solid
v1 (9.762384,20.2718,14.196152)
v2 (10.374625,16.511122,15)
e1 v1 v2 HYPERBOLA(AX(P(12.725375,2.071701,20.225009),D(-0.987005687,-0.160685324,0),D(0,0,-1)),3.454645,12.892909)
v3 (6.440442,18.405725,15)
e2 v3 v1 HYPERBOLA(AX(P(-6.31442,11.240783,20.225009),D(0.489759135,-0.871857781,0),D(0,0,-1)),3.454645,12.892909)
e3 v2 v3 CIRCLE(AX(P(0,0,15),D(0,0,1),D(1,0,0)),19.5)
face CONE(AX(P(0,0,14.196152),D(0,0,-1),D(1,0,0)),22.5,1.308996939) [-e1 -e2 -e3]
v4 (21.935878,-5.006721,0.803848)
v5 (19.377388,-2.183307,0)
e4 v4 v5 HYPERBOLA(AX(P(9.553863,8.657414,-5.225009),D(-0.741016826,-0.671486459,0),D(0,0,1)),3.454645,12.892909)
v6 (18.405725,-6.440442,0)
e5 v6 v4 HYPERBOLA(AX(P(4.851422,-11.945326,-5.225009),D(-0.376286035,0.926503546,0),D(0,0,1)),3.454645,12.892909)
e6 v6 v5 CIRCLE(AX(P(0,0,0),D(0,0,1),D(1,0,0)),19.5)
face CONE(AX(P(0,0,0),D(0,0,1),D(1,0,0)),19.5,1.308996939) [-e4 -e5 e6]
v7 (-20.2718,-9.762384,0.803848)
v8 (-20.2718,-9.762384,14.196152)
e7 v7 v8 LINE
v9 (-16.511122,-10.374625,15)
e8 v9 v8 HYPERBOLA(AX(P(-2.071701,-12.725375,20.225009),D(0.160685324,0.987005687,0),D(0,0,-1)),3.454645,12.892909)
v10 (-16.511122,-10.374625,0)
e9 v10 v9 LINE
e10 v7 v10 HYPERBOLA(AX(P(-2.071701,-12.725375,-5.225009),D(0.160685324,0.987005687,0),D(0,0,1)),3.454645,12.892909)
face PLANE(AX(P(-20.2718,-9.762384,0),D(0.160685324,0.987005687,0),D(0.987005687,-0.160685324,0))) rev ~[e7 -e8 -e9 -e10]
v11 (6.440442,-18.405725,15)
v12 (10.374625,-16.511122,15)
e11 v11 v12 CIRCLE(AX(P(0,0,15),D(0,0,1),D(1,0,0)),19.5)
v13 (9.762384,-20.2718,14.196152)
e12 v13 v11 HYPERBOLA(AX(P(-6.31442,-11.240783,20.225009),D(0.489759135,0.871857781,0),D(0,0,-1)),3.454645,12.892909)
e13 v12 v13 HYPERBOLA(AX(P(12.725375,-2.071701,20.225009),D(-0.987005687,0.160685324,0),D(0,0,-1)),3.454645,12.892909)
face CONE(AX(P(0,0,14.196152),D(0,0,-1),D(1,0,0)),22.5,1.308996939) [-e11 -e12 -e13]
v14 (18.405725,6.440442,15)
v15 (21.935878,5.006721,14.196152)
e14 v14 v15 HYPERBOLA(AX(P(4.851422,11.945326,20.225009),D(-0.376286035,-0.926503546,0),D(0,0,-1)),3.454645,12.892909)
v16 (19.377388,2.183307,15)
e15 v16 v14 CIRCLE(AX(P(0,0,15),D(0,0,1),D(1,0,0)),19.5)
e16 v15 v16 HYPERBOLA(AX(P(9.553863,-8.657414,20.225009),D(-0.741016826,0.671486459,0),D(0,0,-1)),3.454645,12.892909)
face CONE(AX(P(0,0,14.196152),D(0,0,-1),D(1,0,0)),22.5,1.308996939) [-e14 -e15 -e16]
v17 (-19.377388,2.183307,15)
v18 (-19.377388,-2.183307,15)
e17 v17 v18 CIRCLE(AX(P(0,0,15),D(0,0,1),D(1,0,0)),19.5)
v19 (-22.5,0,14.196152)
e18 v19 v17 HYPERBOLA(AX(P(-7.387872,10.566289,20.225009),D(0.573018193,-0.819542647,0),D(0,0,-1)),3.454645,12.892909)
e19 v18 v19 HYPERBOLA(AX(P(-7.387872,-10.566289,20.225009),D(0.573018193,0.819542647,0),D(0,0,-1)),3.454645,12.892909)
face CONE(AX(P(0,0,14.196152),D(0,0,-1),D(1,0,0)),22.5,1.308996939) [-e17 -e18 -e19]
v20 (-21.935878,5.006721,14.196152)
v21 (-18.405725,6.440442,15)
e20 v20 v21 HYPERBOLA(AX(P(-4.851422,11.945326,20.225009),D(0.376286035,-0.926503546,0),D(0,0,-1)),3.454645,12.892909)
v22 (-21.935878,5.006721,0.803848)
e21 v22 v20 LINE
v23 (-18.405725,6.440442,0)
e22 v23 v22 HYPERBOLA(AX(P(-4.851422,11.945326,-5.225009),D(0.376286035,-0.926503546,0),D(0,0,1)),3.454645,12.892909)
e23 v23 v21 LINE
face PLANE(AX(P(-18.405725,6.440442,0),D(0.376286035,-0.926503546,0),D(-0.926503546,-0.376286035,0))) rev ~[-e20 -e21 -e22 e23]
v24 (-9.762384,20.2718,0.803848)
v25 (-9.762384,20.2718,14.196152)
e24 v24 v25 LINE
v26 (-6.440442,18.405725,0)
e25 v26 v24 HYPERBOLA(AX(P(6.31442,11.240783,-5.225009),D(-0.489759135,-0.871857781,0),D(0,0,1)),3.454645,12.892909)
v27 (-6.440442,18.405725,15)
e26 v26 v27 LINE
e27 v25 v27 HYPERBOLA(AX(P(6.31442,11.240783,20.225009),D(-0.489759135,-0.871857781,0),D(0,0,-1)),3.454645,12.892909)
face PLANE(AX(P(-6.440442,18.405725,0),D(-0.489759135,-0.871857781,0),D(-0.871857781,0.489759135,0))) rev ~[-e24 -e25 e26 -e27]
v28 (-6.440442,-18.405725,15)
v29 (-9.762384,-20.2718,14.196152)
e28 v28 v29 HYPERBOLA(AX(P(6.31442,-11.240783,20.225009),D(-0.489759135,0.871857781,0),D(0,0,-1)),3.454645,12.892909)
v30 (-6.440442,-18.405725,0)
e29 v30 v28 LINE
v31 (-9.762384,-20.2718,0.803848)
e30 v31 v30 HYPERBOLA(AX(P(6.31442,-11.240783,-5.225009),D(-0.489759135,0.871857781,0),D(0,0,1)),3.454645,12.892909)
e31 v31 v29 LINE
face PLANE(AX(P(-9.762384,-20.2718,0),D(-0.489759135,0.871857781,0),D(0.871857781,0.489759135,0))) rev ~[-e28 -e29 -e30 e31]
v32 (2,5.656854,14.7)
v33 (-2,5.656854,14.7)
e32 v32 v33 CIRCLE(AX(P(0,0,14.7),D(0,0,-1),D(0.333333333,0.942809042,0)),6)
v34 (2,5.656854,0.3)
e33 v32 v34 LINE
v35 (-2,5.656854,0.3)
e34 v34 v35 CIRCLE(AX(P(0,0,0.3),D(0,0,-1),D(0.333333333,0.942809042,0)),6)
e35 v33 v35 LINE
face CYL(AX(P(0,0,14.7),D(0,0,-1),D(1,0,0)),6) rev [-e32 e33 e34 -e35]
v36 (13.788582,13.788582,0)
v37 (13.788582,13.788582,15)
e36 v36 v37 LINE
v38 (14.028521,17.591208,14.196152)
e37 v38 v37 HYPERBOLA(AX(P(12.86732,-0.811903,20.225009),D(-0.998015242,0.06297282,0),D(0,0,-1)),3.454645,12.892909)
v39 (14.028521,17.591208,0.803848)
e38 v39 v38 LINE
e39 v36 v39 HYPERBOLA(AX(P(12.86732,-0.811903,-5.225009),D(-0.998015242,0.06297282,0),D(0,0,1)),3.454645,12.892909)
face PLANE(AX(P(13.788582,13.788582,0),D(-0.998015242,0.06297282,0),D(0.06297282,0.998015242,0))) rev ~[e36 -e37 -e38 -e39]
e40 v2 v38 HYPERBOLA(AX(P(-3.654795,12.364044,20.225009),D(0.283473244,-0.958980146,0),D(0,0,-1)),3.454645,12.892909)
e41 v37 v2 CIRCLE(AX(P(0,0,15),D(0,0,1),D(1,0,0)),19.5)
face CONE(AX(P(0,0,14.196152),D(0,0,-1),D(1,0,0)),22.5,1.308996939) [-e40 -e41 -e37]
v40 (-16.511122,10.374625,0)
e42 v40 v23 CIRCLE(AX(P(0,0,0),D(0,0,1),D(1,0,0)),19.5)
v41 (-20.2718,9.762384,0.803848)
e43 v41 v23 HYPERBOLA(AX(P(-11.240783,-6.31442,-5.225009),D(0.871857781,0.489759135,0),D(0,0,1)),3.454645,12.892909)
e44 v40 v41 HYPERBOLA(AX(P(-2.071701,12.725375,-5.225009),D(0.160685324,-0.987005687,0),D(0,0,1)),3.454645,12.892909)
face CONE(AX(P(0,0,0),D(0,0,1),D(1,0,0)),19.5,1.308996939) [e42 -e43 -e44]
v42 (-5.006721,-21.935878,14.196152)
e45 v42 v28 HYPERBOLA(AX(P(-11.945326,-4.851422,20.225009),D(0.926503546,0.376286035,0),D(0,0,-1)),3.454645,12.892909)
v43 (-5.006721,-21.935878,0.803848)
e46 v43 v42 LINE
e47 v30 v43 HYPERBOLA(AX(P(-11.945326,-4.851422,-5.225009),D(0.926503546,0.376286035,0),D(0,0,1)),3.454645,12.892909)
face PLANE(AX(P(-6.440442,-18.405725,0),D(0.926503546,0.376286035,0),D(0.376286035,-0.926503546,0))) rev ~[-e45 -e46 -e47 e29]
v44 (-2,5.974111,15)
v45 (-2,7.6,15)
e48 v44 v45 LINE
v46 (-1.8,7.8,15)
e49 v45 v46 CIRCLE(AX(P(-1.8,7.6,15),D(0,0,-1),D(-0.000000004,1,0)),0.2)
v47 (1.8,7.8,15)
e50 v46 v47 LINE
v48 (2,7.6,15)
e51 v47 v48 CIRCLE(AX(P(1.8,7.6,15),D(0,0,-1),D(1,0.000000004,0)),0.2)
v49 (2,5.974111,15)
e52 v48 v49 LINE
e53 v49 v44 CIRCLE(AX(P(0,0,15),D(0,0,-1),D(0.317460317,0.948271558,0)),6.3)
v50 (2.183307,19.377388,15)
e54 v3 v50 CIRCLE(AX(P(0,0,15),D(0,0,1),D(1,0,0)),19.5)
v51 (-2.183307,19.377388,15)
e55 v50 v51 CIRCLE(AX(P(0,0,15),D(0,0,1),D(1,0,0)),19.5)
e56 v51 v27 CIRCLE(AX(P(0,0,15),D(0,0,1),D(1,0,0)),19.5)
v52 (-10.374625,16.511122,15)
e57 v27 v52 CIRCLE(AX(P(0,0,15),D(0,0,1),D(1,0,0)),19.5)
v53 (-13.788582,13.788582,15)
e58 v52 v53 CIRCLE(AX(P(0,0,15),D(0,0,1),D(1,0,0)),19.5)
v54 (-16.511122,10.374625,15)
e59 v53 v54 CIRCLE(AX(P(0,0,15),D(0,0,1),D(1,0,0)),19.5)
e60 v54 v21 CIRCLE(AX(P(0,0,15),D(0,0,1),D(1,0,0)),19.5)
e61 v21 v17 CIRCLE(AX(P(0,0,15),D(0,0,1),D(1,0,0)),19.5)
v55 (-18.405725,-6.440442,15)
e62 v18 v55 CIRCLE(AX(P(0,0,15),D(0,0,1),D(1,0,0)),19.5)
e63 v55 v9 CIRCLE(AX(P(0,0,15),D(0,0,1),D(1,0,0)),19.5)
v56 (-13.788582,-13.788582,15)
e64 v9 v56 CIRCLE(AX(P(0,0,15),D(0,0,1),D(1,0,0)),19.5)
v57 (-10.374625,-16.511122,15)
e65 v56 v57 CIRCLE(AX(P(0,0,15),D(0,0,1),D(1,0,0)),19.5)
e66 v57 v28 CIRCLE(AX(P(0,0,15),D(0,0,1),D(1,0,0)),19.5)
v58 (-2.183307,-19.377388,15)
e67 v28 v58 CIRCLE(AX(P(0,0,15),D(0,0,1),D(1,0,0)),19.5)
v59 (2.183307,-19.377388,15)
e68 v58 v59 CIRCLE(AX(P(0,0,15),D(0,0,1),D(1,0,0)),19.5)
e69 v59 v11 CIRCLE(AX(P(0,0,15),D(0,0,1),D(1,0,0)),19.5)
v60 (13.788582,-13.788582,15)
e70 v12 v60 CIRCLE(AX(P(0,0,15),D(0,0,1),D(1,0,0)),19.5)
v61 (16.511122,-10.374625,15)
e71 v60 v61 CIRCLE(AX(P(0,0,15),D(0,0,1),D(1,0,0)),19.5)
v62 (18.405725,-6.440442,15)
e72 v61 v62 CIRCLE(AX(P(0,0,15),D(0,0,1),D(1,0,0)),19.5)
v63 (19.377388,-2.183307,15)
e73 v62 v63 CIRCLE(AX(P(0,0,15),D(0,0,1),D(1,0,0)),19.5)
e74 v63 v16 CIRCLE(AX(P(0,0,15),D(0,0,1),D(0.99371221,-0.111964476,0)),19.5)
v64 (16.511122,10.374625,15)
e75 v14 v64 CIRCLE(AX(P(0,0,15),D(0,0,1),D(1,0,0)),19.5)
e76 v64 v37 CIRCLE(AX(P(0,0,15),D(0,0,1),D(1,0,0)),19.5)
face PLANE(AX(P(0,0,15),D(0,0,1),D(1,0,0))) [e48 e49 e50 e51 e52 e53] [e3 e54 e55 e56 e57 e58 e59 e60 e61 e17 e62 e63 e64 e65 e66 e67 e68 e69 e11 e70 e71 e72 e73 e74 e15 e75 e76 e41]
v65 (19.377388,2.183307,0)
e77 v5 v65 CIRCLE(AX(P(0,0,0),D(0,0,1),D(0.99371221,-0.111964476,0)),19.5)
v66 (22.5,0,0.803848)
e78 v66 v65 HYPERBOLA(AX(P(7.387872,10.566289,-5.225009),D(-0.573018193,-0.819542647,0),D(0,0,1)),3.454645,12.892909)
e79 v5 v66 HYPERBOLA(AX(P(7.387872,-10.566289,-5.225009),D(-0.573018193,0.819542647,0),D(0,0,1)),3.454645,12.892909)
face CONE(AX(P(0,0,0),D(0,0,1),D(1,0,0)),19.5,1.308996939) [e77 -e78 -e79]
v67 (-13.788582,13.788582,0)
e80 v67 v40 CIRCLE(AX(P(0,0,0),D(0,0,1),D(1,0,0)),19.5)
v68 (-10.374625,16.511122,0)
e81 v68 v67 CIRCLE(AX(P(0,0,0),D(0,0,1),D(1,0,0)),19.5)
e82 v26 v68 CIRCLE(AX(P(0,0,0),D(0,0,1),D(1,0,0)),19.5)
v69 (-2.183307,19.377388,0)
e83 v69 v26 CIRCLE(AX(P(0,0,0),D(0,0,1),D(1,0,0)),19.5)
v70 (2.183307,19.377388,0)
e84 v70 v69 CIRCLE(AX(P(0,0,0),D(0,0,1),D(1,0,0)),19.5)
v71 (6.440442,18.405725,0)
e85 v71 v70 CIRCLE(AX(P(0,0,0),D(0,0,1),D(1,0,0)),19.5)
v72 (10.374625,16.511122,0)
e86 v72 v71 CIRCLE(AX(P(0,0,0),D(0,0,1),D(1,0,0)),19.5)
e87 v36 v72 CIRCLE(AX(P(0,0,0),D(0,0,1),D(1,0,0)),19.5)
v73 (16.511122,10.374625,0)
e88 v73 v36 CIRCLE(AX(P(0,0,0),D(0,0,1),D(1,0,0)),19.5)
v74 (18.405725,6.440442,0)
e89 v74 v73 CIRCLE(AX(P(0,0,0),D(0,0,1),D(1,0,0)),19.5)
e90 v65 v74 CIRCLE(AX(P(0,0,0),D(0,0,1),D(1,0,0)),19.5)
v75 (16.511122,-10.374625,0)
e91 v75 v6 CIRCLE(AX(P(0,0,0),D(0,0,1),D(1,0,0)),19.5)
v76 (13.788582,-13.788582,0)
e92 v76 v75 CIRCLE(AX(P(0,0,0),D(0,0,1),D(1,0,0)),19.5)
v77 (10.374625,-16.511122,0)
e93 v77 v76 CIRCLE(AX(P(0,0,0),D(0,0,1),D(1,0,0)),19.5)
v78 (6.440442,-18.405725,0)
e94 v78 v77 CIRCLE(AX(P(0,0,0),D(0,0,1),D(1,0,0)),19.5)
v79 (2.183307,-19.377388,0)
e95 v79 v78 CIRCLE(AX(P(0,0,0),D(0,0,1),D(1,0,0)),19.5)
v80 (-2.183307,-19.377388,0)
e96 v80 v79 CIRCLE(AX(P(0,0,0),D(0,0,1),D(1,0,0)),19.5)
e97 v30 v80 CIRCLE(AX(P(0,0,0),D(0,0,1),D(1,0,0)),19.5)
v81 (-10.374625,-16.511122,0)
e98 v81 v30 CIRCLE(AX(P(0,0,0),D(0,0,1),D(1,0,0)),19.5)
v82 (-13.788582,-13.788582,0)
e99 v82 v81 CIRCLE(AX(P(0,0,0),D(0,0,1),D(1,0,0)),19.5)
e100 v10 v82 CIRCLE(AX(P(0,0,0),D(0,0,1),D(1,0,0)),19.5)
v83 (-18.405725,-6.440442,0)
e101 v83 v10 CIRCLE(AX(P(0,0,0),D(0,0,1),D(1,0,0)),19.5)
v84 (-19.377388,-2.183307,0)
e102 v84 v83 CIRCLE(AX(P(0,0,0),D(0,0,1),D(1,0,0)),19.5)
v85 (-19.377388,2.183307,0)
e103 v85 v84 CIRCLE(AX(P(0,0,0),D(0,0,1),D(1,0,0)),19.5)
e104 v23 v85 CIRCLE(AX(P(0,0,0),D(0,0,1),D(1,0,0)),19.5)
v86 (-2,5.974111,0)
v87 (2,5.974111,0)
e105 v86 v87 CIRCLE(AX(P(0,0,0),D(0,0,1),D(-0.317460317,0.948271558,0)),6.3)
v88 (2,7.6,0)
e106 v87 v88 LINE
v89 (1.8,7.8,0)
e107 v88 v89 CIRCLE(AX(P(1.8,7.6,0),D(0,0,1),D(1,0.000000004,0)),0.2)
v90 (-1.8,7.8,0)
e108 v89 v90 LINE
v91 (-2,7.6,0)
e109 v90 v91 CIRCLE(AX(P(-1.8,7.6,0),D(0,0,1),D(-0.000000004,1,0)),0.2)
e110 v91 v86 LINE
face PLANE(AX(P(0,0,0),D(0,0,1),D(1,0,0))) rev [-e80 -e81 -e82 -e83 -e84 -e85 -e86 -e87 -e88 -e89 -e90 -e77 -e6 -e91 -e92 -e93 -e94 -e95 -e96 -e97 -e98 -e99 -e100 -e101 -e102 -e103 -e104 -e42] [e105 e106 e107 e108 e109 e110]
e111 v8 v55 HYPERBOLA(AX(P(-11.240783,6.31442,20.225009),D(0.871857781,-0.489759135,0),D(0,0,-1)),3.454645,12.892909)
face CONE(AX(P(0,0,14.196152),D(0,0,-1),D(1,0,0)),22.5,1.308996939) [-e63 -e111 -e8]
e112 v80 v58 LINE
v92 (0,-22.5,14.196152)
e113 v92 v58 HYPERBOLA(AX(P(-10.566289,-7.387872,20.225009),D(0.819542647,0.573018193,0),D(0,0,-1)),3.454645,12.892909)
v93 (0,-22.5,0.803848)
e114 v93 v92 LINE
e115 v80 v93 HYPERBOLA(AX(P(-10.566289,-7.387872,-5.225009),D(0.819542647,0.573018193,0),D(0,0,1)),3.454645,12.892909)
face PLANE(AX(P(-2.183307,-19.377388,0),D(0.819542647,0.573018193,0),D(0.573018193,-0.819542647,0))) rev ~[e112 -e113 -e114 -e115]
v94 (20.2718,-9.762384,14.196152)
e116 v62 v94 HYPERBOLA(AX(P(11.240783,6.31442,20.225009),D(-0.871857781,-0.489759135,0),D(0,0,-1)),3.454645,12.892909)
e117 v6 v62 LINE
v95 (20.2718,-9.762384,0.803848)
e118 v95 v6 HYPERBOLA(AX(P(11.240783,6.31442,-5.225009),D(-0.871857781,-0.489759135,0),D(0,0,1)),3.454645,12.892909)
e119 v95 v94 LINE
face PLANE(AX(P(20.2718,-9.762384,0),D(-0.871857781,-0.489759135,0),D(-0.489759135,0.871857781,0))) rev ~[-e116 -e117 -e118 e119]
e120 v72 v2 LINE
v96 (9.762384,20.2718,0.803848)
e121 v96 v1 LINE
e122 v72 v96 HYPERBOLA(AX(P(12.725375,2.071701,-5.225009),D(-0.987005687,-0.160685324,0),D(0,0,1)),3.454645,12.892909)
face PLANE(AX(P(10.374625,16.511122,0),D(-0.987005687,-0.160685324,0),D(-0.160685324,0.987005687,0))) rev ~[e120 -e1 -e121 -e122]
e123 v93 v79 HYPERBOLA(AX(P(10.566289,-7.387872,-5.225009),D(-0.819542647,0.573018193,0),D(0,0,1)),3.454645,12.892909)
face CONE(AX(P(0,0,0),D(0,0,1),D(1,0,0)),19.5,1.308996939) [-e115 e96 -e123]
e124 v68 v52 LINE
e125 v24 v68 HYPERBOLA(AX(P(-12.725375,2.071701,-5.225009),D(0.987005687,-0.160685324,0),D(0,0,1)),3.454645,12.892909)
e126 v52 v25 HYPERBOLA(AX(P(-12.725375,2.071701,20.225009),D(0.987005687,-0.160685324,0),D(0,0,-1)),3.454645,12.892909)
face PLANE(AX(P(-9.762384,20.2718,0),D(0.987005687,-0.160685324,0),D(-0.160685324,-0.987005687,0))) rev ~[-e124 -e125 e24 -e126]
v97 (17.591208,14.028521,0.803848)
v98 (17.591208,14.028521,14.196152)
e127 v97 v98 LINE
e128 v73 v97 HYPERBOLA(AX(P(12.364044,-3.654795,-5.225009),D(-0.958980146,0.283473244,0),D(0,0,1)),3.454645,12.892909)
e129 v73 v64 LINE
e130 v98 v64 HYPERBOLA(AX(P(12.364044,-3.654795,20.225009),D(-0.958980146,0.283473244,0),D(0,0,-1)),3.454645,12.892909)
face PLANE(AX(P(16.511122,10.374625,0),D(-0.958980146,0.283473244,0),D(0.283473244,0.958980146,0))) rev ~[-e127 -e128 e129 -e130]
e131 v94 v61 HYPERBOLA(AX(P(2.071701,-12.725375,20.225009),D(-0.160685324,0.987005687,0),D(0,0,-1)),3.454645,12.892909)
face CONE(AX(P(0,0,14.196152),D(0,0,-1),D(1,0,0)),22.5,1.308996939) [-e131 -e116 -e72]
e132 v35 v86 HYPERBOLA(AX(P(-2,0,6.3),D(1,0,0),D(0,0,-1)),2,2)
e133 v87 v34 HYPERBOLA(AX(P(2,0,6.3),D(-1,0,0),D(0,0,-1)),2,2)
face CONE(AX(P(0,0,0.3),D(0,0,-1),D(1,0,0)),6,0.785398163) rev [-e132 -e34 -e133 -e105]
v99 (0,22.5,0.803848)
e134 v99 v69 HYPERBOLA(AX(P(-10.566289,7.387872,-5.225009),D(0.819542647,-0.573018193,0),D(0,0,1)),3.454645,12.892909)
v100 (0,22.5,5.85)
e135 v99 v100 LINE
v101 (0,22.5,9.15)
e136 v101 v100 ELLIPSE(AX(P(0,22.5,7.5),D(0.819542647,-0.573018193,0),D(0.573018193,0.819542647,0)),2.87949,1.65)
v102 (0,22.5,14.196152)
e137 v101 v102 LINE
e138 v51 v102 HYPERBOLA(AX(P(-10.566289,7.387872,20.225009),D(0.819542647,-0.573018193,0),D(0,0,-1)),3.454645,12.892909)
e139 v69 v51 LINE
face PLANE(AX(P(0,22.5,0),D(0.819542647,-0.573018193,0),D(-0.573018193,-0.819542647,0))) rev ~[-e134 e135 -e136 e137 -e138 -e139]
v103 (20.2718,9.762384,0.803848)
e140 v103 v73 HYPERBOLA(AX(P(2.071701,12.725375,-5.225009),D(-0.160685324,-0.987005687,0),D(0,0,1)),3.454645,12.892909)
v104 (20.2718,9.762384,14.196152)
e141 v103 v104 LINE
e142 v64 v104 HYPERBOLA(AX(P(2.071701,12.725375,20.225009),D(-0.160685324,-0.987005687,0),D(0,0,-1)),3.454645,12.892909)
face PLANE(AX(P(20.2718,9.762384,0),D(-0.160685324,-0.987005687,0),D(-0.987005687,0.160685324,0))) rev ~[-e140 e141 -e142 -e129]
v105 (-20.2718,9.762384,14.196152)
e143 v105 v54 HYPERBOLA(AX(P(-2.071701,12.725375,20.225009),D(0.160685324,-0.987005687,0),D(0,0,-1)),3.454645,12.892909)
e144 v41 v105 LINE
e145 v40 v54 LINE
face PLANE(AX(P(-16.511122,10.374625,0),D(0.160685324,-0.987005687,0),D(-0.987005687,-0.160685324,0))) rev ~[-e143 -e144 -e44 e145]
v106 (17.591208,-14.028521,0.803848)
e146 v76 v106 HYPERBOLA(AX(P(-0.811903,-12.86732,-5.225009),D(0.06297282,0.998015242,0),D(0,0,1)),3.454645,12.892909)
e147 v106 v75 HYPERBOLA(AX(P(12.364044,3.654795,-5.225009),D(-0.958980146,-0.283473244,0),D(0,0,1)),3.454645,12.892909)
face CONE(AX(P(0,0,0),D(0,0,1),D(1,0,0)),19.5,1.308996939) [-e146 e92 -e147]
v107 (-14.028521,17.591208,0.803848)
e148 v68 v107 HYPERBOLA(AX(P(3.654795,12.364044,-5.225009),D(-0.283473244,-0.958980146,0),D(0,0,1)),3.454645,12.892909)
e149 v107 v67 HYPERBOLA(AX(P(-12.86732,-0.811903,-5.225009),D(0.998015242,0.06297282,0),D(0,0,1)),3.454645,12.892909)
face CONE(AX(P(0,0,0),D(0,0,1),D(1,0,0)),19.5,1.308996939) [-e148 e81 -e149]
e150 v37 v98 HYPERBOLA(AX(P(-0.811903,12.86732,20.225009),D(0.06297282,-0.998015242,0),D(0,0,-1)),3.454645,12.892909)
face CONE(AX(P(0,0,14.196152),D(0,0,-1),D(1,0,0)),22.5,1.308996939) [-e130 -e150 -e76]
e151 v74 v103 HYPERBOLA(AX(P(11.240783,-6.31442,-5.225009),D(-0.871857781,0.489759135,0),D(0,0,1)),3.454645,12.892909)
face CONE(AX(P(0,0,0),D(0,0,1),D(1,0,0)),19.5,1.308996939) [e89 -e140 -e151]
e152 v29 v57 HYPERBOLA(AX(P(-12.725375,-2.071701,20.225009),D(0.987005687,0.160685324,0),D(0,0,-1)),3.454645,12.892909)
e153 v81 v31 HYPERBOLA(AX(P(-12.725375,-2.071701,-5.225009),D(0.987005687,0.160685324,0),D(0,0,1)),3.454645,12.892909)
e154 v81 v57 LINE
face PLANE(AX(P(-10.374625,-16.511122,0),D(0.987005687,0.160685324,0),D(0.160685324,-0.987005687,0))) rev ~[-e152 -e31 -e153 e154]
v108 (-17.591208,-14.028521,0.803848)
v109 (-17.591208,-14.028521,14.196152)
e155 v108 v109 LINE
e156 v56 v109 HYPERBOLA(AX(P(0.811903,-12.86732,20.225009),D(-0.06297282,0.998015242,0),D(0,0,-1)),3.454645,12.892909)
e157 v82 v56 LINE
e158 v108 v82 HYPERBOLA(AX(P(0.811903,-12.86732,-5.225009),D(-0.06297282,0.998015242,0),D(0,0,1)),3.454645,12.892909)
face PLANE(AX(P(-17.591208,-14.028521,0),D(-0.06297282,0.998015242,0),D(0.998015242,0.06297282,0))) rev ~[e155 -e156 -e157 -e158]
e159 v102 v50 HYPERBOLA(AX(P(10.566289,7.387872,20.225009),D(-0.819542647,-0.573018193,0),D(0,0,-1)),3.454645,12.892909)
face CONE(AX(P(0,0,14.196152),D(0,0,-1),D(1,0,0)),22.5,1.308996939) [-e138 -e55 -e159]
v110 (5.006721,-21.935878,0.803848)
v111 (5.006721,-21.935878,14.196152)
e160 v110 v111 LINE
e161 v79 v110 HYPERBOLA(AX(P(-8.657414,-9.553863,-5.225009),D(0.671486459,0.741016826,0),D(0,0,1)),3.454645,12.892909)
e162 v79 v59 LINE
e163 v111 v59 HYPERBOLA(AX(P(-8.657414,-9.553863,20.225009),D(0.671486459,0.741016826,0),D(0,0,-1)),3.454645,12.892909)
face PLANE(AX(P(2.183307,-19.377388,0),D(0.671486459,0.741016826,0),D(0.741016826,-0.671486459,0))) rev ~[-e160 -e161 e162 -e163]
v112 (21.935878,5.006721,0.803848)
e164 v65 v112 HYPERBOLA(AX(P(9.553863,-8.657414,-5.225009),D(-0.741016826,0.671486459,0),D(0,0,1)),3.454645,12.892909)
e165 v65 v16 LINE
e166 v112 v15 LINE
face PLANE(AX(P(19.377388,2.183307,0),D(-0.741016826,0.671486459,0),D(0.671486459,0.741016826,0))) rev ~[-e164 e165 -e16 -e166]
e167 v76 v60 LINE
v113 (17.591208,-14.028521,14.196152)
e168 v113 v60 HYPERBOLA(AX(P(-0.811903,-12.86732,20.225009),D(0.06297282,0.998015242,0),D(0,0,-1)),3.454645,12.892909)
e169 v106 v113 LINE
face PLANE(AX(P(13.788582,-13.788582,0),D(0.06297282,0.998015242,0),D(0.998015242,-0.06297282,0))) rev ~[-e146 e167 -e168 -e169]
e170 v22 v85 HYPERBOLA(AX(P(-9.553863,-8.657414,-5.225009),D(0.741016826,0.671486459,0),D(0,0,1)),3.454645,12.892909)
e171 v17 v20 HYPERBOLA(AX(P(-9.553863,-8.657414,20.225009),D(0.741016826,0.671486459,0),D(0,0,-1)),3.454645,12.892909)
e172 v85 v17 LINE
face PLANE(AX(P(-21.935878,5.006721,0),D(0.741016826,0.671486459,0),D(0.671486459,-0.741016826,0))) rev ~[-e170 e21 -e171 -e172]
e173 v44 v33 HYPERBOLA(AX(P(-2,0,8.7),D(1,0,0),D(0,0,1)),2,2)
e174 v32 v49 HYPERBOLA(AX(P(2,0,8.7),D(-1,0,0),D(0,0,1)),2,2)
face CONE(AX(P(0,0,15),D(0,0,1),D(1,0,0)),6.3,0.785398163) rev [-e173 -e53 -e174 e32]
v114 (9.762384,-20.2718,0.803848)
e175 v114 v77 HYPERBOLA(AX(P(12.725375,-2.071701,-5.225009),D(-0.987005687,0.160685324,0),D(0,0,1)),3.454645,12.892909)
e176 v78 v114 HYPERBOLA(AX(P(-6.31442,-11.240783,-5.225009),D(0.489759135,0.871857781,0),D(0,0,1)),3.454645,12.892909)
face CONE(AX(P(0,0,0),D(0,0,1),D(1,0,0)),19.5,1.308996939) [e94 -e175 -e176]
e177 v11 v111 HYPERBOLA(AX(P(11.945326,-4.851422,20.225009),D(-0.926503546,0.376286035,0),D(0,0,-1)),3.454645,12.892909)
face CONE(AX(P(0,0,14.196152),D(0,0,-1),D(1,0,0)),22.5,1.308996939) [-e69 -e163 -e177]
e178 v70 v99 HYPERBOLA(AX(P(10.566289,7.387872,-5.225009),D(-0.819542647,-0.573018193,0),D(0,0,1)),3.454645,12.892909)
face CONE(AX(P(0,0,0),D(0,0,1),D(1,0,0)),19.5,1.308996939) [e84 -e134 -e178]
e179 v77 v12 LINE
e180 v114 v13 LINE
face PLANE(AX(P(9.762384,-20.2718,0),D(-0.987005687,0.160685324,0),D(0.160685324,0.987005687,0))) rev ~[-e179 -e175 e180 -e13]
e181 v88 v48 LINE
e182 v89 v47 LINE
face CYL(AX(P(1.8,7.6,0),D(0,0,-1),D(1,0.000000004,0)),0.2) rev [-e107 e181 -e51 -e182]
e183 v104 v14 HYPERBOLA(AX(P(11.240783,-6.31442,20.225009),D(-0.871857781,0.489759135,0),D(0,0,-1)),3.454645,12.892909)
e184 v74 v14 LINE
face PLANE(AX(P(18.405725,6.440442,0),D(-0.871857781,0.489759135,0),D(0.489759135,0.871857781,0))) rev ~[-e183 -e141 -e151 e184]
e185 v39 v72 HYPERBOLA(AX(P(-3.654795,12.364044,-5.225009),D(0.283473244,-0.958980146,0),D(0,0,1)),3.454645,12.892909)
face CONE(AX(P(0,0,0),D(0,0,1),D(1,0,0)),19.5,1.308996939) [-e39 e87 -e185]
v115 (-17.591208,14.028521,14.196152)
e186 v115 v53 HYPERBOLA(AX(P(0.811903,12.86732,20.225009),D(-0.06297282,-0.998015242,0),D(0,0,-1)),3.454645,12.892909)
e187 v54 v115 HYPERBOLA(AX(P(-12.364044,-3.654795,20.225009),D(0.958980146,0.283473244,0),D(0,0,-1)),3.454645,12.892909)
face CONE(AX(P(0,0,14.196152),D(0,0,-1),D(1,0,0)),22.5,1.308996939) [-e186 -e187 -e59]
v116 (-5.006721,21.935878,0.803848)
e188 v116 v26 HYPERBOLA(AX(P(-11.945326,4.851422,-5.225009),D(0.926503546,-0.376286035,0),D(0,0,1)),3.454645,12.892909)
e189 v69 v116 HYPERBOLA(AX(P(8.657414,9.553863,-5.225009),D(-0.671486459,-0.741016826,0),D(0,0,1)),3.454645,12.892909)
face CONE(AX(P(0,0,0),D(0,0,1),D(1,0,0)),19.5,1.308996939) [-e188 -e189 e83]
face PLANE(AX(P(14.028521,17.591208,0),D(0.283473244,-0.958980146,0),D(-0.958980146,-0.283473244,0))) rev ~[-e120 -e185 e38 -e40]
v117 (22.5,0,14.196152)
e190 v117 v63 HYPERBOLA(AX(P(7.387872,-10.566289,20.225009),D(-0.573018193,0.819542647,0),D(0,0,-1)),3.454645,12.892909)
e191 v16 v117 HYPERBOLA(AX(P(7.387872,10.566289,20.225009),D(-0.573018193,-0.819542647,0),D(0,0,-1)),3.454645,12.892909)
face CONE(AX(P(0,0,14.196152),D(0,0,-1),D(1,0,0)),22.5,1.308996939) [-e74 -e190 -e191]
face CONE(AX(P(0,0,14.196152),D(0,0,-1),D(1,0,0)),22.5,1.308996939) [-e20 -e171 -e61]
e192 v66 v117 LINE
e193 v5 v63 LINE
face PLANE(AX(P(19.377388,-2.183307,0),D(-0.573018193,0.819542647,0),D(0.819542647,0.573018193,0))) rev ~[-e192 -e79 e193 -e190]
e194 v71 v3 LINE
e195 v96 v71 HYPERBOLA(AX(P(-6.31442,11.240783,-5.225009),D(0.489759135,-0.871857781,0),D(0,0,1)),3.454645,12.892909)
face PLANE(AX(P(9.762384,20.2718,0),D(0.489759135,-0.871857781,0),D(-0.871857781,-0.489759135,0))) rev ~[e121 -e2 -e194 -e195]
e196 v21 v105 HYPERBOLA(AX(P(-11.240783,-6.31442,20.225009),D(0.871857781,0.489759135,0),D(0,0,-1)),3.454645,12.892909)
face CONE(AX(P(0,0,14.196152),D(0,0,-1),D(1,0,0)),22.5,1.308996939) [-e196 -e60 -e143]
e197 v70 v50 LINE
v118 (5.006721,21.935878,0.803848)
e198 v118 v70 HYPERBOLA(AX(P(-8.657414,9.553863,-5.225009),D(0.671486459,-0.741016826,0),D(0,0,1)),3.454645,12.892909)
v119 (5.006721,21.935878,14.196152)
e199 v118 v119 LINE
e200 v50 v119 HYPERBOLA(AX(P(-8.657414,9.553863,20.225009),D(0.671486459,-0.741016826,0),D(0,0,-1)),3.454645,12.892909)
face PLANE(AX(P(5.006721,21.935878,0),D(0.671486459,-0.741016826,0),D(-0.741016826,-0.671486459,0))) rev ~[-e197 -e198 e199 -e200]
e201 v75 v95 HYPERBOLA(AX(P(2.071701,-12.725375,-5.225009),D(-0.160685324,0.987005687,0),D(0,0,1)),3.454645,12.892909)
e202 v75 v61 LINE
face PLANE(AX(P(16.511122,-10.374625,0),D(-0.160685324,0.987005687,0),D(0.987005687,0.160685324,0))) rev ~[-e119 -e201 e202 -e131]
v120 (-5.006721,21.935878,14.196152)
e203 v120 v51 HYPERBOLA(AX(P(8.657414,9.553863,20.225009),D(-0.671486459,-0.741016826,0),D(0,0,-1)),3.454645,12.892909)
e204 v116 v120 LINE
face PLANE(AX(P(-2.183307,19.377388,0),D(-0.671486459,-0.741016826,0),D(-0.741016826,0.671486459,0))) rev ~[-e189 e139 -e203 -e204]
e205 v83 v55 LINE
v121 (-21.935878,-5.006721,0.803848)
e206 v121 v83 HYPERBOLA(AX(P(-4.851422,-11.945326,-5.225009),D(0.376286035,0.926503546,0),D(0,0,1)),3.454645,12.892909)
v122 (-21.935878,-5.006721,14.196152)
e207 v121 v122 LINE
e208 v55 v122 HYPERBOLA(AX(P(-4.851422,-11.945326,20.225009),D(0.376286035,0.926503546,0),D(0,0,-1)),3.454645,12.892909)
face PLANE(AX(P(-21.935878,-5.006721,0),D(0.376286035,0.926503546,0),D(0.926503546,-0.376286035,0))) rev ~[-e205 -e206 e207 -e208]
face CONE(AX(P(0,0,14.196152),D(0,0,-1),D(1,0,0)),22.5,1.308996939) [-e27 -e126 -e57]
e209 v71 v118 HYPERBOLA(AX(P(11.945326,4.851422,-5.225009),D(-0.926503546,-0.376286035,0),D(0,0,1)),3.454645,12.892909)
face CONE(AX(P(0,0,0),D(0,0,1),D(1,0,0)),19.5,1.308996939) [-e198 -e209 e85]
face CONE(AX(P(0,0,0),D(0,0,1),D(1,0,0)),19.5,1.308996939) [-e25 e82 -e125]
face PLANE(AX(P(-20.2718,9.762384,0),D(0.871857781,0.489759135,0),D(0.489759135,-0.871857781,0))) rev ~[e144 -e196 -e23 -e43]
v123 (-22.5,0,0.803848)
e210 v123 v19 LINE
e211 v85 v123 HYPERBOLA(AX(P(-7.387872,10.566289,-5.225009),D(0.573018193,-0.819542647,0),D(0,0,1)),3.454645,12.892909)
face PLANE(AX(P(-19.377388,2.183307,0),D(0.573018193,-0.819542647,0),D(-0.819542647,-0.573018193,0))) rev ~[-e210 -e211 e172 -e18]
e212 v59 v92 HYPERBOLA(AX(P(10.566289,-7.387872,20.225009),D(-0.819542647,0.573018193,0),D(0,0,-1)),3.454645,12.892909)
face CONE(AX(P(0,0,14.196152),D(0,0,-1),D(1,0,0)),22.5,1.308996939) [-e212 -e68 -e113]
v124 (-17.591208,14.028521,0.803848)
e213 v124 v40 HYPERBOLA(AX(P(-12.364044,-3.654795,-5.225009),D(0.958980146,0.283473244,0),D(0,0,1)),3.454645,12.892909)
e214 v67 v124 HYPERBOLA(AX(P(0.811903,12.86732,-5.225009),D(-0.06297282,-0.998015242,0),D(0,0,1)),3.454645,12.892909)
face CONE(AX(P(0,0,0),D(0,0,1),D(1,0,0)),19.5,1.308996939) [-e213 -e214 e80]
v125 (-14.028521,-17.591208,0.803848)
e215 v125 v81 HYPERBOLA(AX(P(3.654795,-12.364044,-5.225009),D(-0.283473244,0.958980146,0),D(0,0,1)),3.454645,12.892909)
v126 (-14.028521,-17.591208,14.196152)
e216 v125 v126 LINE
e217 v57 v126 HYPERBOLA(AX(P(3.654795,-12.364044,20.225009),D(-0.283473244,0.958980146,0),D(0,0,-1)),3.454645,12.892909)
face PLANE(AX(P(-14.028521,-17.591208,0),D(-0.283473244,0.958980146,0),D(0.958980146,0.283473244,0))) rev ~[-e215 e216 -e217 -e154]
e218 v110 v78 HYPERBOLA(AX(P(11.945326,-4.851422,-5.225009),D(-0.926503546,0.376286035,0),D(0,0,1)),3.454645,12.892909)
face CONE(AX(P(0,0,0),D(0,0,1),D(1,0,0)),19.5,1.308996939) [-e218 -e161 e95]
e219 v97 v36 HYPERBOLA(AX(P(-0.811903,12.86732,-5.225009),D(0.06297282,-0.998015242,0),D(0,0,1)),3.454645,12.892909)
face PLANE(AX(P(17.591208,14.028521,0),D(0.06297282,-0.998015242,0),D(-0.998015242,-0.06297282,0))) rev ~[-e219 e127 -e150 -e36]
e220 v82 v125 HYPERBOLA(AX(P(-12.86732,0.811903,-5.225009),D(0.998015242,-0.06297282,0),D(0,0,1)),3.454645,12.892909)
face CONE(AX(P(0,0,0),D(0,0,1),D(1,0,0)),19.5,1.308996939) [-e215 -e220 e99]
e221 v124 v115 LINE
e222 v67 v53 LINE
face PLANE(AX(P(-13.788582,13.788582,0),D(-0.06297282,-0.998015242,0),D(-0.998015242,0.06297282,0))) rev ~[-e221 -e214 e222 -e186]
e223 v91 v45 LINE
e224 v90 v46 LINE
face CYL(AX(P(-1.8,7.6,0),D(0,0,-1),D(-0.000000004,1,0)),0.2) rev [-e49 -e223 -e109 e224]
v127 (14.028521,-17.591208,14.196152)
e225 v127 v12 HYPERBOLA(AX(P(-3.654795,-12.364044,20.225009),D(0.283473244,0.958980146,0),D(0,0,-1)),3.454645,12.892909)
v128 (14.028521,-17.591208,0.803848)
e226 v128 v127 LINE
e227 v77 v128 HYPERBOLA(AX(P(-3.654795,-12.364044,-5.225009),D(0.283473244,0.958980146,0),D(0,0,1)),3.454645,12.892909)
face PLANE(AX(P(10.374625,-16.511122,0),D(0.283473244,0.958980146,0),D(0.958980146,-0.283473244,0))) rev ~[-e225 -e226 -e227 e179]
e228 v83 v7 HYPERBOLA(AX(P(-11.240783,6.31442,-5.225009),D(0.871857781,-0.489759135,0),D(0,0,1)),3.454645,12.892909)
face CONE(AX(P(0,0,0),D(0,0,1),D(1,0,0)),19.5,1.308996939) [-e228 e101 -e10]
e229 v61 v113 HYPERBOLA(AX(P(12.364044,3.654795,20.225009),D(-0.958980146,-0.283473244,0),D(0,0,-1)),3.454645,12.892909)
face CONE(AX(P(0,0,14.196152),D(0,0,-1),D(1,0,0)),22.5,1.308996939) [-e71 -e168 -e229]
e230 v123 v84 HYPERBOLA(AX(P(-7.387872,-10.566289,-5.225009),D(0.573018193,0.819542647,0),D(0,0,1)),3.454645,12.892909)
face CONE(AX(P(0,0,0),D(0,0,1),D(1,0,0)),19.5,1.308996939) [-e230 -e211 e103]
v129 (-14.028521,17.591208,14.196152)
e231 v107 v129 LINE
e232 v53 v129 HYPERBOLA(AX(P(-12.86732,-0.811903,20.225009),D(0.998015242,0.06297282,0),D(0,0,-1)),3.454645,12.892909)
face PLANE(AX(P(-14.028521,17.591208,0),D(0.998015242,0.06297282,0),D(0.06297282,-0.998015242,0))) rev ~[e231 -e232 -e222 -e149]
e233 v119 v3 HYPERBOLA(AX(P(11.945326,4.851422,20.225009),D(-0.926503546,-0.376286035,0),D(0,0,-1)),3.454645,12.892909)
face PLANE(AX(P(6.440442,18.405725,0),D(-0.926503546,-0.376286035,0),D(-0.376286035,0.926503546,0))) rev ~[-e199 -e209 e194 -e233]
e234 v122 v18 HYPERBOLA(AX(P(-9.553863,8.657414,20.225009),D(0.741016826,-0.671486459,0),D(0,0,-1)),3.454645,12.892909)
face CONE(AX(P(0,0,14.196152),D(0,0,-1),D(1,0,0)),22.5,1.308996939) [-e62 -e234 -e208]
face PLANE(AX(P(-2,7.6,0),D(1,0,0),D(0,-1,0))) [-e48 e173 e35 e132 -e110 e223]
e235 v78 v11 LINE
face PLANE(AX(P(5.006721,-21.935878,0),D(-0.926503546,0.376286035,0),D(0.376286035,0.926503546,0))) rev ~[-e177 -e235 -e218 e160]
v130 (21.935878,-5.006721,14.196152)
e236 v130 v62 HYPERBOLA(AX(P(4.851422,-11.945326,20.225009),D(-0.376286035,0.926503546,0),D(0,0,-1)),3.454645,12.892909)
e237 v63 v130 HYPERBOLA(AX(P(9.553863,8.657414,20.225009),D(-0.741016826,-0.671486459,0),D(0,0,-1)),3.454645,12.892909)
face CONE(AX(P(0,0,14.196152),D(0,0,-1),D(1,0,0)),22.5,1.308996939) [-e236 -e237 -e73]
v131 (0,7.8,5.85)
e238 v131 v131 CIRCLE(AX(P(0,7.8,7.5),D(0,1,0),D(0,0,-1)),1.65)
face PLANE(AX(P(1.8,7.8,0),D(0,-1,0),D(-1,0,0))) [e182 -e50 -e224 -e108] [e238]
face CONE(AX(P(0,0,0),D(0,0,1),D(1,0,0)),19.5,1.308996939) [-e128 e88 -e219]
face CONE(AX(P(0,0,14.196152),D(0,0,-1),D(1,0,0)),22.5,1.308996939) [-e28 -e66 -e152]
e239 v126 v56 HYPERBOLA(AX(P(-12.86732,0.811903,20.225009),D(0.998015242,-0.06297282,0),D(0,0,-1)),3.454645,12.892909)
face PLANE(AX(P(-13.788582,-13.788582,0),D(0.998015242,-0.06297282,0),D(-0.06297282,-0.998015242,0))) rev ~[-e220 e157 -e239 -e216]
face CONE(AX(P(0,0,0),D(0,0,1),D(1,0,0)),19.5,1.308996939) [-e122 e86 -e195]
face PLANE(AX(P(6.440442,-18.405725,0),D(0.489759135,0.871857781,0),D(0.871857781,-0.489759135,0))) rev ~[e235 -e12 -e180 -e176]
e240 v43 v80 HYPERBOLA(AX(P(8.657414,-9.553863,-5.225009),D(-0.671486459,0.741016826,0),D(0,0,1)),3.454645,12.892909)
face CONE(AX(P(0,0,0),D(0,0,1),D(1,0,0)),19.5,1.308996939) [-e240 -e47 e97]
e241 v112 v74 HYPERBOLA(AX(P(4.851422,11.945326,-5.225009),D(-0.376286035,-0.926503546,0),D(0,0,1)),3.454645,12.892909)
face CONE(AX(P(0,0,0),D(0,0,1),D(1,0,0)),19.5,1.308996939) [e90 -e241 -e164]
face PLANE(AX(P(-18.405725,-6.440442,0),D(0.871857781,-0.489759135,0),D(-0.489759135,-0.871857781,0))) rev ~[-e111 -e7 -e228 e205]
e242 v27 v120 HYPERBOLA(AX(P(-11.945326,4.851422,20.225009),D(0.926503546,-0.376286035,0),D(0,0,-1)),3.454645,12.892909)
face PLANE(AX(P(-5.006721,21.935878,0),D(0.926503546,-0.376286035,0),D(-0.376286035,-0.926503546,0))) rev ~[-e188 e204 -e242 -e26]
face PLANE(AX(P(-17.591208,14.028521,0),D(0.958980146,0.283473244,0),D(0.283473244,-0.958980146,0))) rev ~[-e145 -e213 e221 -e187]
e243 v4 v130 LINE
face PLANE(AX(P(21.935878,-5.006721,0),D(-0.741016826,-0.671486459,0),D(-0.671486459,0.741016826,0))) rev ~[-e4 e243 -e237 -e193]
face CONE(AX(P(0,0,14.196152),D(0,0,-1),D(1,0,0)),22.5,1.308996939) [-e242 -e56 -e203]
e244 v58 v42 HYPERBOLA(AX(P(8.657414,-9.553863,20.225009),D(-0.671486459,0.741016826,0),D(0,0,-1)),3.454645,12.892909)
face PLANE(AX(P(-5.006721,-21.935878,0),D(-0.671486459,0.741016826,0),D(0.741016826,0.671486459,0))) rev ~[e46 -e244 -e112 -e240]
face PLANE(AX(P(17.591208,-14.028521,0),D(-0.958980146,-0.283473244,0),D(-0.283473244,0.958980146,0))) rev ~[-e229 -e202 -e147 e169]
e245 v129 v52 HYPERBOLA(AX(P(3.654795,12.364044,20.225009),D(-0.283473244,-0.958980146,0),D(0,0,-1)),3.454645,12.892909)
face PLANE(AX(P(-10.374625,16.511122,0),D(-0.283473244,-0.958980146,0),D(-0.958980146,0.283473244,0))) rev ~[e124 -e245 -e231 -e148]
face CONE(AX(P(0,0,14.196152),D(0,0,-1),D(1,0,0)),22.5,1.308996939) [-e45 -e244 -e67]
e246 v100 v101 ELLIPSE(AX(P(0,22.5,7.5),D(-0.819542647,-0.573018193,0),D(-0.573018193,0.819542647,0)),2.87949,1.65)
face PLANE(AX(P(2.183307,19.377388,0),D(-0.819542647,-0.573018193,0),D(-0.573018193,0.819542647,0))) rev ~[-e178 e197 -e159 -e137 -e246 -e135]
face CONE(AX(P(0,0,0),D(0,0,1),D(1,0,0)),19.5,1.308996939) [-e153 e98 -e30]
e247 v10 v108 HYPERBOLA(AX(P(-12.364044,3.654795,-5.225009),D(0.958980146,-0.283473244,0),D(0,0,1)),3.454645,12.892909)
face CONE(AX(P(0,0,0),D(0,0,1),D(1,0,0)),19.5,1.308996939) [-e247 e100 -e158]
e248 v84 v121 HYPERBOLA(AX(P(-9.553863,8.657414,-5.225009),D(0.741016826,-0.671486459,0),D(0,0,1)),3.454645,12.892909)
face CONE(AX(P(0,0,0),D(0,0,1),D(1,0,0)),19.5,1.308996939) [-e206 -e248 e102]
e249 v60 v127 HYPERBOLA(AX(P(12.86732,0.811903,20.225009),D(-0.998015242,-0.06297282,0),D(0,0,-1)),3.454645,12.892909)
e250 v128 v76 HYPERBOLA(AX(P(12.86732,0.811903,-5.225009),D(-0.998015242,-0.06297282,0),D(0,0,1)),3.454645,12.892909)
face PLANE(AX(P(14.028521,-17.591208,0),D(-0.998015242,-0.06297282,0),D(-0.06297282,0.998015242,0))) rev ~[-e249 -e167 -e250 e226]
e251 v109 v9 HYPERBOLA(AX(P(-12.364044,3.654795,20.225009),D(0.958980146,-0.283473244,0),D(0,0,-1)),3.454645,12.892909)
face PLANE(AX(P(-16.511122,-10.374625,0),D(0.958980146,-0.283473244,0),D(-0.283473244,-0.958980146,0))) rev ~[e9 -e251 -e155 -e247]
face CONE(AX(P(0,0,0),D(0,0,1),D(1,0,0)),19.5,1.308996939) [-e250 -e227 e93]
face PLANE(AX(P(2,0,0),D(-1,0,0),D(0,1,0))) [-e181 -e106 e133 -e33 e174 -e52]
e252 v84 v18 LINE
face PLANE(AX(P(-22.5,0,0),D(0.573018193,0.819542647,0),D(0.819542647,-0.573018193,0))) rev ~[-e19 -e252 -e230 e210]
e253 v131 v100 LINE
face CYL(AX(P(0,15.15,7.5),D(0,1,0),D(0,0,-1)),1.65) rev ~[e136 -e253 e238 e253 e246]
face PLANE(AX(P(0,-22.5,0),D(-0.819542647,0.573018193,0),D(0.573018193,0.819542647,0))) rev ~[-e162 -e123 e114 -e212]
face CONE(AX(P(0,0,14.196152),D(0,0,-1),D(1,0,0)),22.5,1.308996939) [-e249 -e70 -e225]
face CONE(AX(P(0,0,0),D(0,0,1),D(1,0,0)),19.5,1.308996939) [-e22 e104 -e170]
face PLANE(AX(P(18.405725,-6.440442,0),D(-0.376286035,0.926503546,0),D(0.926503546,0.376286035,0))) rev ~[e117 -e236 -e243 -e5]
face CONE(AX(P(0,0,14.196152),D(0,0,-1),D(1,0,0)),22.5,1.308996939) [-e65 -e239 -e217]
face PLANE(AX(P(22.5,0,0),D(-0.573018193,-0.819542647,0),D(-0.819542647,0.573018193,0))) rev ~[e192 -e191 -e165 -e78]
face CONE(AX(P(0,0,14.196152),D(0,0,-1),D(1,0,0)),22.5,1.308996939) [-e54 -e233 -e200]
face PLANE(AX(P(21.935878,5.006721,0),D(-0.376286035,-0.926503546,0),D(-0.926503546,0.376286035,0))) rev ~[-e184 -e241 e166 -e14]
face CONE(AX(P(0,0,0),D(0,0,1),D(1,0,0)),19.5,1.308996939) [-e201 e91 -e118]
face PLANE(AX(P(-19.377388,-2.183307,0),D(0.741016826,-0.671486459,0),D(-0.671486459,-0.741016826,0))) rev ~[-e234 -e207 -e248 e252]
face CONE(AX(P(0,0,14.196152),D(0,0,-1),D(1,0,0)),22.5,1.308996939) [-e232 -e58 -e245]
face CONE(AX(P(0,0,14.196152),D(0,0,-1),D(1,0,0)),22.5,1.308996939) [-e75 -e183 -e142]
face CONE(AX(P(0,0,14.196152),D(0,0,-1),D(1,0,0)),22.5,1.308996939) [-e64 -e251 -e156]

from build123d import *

# Parameters (mm, degrees)
SKETCH_2_R          = 45
CUT_EXTRUDE_1_DEPTH = 15
CUT_EXTRUDE_2_DEPTH = 27
SKETCH_4_W          = 1.65
SKETCH_4_H          = 14.7


with BuildPart() as part:
    # 草图1 → 旋转1 (revolve)
    with BuildSketch(Plane(origin=(0, 0, 0), x_dir=(0, 0, -1), z_dir=(1, 0, 0))):
        Polygon((-15, 19.5), (-15, 6.3), (-14.7, 6), (-0.3, 6), (0, 6.3), (0, 19.5), (-0.803847577, 22.5), (-14.196152423, 22.5), align=None)
    revolve(axis=Axis((0, 0, 0), (0, 0, 1)))

    # 草图2 → 切除-拉伸1 (cut)
    with BuildSketch(Plane.XY):
        Circle(SKETCH_2_R)
        Polygon((-22.5, 0), (-19.377388093, -2.183307284), (-21.935878024, -5.006721014), (-18.405724941, -6.440441708), (-20.271799528, -9.76238413), (-16.511121885, -10.374625492), (-17.591208356, -14.028520542), (-13.788582233, -13.788582233), (-14.028520542, -17.591208356), (-10.374625492, -16.511121885), (-9.76238413, -20.271799528), (-6.440441708, -18.405724941), (-5.006721014, -21.935878024), (-2.183307284, -19.377388093), (0, -22.5), (2.183307284, -19.377388093), (5.006721014, -21.935878024), (6.440441708, -18.405724941), (9.76238413, -20.271799528), (10.374625492, -16.511121885), (14.028520542, -17.591208356), (13.788582233, -13.788582233), (17.591208356, -14.028520542), (16.511121885, -10.374625492), (20.271799528, -9.76238413), (18.405724941, -6.440441708), (21.935878024, -5.006721014), (19.377388093, -2.183307284), (22.5, 0), (19.377388093, 2.183307284), (21.935878024, 5.006721014), (18.405724941, 6.440441708), (20.271799528, 9.76238413), (16.511121885, 10.374625492), (17.591208356, 14.028520542), (13.788582233, 13.788582233), (14.028520542, 17.591208356), (10.374625492, 16.511121885), (9.76238413, 20.271799528), (6.440441708, 18.405724941), (5.006721014, 21.935878024), (2.183307284, 19.377388093), (0, 22.5), (-2.183307284, 19.377388093), (-5.006721014, 21.935878024), (-6.440441708, 18.405724941), (-9.76238413, 20.271799528), (-10.374625492, 16.511121885), (-14.028520542, 17.591208356), (-13.788582233, 13.788582233), (-17.591208356, 14.028520542), (-16.511121885, 10.374625492), (-20.271799528, 9.76238413), (-18.405724941, 6.440441708), (-21.935878024, 5.006721014), (-19.377388093, 2.183307284), align=None, mode=Mode.SUBTRACT)
    extrude(amount=CUT_EXTRUDE_1_DEPTH, mode=Mode.SUBTRACT)

    # 草图3 → 切除-拉伸2 (cut)
    with BuildSketch(Plane.XY):
        with BuildLine():
            Line((-2, 0), (2, 0))
            Line((2, 0), (2, 7.6))
            ThreePointArc((2, 7.6), (1.941421356, 7.741421356), (1.8, 7.8))
            Line((1.8, 7.8), (-1.8, 7.8))
            ThreePointArc((-1.8, 7.8), (-1.941421356, 7.741421356), (-2, 7.6))
            Line((-2, 7.6), (-2, 0))
        make_face()
    extrude(amount=CUT_EXTRUDE_2_DEPTH, mode=Mode.SUBTRACT)

    # 草图4 → M4 螺纹孔1 (revolve, cut)
    with BuildSketch(Plane(origin=(0, 7.8, 7.5), x_dir=(0, 0, -1), z_dir=(1, 0, 0))):
        with Locations((0.825, 7.35)):
            Rectangle(SKETCH_4_W, SKETCH_4_H)
    revolve(axis=Axis((0, 1.45, 7.5), (0, 1, 0)), mode=Mode.SUBTRACT)


solid = part.part
